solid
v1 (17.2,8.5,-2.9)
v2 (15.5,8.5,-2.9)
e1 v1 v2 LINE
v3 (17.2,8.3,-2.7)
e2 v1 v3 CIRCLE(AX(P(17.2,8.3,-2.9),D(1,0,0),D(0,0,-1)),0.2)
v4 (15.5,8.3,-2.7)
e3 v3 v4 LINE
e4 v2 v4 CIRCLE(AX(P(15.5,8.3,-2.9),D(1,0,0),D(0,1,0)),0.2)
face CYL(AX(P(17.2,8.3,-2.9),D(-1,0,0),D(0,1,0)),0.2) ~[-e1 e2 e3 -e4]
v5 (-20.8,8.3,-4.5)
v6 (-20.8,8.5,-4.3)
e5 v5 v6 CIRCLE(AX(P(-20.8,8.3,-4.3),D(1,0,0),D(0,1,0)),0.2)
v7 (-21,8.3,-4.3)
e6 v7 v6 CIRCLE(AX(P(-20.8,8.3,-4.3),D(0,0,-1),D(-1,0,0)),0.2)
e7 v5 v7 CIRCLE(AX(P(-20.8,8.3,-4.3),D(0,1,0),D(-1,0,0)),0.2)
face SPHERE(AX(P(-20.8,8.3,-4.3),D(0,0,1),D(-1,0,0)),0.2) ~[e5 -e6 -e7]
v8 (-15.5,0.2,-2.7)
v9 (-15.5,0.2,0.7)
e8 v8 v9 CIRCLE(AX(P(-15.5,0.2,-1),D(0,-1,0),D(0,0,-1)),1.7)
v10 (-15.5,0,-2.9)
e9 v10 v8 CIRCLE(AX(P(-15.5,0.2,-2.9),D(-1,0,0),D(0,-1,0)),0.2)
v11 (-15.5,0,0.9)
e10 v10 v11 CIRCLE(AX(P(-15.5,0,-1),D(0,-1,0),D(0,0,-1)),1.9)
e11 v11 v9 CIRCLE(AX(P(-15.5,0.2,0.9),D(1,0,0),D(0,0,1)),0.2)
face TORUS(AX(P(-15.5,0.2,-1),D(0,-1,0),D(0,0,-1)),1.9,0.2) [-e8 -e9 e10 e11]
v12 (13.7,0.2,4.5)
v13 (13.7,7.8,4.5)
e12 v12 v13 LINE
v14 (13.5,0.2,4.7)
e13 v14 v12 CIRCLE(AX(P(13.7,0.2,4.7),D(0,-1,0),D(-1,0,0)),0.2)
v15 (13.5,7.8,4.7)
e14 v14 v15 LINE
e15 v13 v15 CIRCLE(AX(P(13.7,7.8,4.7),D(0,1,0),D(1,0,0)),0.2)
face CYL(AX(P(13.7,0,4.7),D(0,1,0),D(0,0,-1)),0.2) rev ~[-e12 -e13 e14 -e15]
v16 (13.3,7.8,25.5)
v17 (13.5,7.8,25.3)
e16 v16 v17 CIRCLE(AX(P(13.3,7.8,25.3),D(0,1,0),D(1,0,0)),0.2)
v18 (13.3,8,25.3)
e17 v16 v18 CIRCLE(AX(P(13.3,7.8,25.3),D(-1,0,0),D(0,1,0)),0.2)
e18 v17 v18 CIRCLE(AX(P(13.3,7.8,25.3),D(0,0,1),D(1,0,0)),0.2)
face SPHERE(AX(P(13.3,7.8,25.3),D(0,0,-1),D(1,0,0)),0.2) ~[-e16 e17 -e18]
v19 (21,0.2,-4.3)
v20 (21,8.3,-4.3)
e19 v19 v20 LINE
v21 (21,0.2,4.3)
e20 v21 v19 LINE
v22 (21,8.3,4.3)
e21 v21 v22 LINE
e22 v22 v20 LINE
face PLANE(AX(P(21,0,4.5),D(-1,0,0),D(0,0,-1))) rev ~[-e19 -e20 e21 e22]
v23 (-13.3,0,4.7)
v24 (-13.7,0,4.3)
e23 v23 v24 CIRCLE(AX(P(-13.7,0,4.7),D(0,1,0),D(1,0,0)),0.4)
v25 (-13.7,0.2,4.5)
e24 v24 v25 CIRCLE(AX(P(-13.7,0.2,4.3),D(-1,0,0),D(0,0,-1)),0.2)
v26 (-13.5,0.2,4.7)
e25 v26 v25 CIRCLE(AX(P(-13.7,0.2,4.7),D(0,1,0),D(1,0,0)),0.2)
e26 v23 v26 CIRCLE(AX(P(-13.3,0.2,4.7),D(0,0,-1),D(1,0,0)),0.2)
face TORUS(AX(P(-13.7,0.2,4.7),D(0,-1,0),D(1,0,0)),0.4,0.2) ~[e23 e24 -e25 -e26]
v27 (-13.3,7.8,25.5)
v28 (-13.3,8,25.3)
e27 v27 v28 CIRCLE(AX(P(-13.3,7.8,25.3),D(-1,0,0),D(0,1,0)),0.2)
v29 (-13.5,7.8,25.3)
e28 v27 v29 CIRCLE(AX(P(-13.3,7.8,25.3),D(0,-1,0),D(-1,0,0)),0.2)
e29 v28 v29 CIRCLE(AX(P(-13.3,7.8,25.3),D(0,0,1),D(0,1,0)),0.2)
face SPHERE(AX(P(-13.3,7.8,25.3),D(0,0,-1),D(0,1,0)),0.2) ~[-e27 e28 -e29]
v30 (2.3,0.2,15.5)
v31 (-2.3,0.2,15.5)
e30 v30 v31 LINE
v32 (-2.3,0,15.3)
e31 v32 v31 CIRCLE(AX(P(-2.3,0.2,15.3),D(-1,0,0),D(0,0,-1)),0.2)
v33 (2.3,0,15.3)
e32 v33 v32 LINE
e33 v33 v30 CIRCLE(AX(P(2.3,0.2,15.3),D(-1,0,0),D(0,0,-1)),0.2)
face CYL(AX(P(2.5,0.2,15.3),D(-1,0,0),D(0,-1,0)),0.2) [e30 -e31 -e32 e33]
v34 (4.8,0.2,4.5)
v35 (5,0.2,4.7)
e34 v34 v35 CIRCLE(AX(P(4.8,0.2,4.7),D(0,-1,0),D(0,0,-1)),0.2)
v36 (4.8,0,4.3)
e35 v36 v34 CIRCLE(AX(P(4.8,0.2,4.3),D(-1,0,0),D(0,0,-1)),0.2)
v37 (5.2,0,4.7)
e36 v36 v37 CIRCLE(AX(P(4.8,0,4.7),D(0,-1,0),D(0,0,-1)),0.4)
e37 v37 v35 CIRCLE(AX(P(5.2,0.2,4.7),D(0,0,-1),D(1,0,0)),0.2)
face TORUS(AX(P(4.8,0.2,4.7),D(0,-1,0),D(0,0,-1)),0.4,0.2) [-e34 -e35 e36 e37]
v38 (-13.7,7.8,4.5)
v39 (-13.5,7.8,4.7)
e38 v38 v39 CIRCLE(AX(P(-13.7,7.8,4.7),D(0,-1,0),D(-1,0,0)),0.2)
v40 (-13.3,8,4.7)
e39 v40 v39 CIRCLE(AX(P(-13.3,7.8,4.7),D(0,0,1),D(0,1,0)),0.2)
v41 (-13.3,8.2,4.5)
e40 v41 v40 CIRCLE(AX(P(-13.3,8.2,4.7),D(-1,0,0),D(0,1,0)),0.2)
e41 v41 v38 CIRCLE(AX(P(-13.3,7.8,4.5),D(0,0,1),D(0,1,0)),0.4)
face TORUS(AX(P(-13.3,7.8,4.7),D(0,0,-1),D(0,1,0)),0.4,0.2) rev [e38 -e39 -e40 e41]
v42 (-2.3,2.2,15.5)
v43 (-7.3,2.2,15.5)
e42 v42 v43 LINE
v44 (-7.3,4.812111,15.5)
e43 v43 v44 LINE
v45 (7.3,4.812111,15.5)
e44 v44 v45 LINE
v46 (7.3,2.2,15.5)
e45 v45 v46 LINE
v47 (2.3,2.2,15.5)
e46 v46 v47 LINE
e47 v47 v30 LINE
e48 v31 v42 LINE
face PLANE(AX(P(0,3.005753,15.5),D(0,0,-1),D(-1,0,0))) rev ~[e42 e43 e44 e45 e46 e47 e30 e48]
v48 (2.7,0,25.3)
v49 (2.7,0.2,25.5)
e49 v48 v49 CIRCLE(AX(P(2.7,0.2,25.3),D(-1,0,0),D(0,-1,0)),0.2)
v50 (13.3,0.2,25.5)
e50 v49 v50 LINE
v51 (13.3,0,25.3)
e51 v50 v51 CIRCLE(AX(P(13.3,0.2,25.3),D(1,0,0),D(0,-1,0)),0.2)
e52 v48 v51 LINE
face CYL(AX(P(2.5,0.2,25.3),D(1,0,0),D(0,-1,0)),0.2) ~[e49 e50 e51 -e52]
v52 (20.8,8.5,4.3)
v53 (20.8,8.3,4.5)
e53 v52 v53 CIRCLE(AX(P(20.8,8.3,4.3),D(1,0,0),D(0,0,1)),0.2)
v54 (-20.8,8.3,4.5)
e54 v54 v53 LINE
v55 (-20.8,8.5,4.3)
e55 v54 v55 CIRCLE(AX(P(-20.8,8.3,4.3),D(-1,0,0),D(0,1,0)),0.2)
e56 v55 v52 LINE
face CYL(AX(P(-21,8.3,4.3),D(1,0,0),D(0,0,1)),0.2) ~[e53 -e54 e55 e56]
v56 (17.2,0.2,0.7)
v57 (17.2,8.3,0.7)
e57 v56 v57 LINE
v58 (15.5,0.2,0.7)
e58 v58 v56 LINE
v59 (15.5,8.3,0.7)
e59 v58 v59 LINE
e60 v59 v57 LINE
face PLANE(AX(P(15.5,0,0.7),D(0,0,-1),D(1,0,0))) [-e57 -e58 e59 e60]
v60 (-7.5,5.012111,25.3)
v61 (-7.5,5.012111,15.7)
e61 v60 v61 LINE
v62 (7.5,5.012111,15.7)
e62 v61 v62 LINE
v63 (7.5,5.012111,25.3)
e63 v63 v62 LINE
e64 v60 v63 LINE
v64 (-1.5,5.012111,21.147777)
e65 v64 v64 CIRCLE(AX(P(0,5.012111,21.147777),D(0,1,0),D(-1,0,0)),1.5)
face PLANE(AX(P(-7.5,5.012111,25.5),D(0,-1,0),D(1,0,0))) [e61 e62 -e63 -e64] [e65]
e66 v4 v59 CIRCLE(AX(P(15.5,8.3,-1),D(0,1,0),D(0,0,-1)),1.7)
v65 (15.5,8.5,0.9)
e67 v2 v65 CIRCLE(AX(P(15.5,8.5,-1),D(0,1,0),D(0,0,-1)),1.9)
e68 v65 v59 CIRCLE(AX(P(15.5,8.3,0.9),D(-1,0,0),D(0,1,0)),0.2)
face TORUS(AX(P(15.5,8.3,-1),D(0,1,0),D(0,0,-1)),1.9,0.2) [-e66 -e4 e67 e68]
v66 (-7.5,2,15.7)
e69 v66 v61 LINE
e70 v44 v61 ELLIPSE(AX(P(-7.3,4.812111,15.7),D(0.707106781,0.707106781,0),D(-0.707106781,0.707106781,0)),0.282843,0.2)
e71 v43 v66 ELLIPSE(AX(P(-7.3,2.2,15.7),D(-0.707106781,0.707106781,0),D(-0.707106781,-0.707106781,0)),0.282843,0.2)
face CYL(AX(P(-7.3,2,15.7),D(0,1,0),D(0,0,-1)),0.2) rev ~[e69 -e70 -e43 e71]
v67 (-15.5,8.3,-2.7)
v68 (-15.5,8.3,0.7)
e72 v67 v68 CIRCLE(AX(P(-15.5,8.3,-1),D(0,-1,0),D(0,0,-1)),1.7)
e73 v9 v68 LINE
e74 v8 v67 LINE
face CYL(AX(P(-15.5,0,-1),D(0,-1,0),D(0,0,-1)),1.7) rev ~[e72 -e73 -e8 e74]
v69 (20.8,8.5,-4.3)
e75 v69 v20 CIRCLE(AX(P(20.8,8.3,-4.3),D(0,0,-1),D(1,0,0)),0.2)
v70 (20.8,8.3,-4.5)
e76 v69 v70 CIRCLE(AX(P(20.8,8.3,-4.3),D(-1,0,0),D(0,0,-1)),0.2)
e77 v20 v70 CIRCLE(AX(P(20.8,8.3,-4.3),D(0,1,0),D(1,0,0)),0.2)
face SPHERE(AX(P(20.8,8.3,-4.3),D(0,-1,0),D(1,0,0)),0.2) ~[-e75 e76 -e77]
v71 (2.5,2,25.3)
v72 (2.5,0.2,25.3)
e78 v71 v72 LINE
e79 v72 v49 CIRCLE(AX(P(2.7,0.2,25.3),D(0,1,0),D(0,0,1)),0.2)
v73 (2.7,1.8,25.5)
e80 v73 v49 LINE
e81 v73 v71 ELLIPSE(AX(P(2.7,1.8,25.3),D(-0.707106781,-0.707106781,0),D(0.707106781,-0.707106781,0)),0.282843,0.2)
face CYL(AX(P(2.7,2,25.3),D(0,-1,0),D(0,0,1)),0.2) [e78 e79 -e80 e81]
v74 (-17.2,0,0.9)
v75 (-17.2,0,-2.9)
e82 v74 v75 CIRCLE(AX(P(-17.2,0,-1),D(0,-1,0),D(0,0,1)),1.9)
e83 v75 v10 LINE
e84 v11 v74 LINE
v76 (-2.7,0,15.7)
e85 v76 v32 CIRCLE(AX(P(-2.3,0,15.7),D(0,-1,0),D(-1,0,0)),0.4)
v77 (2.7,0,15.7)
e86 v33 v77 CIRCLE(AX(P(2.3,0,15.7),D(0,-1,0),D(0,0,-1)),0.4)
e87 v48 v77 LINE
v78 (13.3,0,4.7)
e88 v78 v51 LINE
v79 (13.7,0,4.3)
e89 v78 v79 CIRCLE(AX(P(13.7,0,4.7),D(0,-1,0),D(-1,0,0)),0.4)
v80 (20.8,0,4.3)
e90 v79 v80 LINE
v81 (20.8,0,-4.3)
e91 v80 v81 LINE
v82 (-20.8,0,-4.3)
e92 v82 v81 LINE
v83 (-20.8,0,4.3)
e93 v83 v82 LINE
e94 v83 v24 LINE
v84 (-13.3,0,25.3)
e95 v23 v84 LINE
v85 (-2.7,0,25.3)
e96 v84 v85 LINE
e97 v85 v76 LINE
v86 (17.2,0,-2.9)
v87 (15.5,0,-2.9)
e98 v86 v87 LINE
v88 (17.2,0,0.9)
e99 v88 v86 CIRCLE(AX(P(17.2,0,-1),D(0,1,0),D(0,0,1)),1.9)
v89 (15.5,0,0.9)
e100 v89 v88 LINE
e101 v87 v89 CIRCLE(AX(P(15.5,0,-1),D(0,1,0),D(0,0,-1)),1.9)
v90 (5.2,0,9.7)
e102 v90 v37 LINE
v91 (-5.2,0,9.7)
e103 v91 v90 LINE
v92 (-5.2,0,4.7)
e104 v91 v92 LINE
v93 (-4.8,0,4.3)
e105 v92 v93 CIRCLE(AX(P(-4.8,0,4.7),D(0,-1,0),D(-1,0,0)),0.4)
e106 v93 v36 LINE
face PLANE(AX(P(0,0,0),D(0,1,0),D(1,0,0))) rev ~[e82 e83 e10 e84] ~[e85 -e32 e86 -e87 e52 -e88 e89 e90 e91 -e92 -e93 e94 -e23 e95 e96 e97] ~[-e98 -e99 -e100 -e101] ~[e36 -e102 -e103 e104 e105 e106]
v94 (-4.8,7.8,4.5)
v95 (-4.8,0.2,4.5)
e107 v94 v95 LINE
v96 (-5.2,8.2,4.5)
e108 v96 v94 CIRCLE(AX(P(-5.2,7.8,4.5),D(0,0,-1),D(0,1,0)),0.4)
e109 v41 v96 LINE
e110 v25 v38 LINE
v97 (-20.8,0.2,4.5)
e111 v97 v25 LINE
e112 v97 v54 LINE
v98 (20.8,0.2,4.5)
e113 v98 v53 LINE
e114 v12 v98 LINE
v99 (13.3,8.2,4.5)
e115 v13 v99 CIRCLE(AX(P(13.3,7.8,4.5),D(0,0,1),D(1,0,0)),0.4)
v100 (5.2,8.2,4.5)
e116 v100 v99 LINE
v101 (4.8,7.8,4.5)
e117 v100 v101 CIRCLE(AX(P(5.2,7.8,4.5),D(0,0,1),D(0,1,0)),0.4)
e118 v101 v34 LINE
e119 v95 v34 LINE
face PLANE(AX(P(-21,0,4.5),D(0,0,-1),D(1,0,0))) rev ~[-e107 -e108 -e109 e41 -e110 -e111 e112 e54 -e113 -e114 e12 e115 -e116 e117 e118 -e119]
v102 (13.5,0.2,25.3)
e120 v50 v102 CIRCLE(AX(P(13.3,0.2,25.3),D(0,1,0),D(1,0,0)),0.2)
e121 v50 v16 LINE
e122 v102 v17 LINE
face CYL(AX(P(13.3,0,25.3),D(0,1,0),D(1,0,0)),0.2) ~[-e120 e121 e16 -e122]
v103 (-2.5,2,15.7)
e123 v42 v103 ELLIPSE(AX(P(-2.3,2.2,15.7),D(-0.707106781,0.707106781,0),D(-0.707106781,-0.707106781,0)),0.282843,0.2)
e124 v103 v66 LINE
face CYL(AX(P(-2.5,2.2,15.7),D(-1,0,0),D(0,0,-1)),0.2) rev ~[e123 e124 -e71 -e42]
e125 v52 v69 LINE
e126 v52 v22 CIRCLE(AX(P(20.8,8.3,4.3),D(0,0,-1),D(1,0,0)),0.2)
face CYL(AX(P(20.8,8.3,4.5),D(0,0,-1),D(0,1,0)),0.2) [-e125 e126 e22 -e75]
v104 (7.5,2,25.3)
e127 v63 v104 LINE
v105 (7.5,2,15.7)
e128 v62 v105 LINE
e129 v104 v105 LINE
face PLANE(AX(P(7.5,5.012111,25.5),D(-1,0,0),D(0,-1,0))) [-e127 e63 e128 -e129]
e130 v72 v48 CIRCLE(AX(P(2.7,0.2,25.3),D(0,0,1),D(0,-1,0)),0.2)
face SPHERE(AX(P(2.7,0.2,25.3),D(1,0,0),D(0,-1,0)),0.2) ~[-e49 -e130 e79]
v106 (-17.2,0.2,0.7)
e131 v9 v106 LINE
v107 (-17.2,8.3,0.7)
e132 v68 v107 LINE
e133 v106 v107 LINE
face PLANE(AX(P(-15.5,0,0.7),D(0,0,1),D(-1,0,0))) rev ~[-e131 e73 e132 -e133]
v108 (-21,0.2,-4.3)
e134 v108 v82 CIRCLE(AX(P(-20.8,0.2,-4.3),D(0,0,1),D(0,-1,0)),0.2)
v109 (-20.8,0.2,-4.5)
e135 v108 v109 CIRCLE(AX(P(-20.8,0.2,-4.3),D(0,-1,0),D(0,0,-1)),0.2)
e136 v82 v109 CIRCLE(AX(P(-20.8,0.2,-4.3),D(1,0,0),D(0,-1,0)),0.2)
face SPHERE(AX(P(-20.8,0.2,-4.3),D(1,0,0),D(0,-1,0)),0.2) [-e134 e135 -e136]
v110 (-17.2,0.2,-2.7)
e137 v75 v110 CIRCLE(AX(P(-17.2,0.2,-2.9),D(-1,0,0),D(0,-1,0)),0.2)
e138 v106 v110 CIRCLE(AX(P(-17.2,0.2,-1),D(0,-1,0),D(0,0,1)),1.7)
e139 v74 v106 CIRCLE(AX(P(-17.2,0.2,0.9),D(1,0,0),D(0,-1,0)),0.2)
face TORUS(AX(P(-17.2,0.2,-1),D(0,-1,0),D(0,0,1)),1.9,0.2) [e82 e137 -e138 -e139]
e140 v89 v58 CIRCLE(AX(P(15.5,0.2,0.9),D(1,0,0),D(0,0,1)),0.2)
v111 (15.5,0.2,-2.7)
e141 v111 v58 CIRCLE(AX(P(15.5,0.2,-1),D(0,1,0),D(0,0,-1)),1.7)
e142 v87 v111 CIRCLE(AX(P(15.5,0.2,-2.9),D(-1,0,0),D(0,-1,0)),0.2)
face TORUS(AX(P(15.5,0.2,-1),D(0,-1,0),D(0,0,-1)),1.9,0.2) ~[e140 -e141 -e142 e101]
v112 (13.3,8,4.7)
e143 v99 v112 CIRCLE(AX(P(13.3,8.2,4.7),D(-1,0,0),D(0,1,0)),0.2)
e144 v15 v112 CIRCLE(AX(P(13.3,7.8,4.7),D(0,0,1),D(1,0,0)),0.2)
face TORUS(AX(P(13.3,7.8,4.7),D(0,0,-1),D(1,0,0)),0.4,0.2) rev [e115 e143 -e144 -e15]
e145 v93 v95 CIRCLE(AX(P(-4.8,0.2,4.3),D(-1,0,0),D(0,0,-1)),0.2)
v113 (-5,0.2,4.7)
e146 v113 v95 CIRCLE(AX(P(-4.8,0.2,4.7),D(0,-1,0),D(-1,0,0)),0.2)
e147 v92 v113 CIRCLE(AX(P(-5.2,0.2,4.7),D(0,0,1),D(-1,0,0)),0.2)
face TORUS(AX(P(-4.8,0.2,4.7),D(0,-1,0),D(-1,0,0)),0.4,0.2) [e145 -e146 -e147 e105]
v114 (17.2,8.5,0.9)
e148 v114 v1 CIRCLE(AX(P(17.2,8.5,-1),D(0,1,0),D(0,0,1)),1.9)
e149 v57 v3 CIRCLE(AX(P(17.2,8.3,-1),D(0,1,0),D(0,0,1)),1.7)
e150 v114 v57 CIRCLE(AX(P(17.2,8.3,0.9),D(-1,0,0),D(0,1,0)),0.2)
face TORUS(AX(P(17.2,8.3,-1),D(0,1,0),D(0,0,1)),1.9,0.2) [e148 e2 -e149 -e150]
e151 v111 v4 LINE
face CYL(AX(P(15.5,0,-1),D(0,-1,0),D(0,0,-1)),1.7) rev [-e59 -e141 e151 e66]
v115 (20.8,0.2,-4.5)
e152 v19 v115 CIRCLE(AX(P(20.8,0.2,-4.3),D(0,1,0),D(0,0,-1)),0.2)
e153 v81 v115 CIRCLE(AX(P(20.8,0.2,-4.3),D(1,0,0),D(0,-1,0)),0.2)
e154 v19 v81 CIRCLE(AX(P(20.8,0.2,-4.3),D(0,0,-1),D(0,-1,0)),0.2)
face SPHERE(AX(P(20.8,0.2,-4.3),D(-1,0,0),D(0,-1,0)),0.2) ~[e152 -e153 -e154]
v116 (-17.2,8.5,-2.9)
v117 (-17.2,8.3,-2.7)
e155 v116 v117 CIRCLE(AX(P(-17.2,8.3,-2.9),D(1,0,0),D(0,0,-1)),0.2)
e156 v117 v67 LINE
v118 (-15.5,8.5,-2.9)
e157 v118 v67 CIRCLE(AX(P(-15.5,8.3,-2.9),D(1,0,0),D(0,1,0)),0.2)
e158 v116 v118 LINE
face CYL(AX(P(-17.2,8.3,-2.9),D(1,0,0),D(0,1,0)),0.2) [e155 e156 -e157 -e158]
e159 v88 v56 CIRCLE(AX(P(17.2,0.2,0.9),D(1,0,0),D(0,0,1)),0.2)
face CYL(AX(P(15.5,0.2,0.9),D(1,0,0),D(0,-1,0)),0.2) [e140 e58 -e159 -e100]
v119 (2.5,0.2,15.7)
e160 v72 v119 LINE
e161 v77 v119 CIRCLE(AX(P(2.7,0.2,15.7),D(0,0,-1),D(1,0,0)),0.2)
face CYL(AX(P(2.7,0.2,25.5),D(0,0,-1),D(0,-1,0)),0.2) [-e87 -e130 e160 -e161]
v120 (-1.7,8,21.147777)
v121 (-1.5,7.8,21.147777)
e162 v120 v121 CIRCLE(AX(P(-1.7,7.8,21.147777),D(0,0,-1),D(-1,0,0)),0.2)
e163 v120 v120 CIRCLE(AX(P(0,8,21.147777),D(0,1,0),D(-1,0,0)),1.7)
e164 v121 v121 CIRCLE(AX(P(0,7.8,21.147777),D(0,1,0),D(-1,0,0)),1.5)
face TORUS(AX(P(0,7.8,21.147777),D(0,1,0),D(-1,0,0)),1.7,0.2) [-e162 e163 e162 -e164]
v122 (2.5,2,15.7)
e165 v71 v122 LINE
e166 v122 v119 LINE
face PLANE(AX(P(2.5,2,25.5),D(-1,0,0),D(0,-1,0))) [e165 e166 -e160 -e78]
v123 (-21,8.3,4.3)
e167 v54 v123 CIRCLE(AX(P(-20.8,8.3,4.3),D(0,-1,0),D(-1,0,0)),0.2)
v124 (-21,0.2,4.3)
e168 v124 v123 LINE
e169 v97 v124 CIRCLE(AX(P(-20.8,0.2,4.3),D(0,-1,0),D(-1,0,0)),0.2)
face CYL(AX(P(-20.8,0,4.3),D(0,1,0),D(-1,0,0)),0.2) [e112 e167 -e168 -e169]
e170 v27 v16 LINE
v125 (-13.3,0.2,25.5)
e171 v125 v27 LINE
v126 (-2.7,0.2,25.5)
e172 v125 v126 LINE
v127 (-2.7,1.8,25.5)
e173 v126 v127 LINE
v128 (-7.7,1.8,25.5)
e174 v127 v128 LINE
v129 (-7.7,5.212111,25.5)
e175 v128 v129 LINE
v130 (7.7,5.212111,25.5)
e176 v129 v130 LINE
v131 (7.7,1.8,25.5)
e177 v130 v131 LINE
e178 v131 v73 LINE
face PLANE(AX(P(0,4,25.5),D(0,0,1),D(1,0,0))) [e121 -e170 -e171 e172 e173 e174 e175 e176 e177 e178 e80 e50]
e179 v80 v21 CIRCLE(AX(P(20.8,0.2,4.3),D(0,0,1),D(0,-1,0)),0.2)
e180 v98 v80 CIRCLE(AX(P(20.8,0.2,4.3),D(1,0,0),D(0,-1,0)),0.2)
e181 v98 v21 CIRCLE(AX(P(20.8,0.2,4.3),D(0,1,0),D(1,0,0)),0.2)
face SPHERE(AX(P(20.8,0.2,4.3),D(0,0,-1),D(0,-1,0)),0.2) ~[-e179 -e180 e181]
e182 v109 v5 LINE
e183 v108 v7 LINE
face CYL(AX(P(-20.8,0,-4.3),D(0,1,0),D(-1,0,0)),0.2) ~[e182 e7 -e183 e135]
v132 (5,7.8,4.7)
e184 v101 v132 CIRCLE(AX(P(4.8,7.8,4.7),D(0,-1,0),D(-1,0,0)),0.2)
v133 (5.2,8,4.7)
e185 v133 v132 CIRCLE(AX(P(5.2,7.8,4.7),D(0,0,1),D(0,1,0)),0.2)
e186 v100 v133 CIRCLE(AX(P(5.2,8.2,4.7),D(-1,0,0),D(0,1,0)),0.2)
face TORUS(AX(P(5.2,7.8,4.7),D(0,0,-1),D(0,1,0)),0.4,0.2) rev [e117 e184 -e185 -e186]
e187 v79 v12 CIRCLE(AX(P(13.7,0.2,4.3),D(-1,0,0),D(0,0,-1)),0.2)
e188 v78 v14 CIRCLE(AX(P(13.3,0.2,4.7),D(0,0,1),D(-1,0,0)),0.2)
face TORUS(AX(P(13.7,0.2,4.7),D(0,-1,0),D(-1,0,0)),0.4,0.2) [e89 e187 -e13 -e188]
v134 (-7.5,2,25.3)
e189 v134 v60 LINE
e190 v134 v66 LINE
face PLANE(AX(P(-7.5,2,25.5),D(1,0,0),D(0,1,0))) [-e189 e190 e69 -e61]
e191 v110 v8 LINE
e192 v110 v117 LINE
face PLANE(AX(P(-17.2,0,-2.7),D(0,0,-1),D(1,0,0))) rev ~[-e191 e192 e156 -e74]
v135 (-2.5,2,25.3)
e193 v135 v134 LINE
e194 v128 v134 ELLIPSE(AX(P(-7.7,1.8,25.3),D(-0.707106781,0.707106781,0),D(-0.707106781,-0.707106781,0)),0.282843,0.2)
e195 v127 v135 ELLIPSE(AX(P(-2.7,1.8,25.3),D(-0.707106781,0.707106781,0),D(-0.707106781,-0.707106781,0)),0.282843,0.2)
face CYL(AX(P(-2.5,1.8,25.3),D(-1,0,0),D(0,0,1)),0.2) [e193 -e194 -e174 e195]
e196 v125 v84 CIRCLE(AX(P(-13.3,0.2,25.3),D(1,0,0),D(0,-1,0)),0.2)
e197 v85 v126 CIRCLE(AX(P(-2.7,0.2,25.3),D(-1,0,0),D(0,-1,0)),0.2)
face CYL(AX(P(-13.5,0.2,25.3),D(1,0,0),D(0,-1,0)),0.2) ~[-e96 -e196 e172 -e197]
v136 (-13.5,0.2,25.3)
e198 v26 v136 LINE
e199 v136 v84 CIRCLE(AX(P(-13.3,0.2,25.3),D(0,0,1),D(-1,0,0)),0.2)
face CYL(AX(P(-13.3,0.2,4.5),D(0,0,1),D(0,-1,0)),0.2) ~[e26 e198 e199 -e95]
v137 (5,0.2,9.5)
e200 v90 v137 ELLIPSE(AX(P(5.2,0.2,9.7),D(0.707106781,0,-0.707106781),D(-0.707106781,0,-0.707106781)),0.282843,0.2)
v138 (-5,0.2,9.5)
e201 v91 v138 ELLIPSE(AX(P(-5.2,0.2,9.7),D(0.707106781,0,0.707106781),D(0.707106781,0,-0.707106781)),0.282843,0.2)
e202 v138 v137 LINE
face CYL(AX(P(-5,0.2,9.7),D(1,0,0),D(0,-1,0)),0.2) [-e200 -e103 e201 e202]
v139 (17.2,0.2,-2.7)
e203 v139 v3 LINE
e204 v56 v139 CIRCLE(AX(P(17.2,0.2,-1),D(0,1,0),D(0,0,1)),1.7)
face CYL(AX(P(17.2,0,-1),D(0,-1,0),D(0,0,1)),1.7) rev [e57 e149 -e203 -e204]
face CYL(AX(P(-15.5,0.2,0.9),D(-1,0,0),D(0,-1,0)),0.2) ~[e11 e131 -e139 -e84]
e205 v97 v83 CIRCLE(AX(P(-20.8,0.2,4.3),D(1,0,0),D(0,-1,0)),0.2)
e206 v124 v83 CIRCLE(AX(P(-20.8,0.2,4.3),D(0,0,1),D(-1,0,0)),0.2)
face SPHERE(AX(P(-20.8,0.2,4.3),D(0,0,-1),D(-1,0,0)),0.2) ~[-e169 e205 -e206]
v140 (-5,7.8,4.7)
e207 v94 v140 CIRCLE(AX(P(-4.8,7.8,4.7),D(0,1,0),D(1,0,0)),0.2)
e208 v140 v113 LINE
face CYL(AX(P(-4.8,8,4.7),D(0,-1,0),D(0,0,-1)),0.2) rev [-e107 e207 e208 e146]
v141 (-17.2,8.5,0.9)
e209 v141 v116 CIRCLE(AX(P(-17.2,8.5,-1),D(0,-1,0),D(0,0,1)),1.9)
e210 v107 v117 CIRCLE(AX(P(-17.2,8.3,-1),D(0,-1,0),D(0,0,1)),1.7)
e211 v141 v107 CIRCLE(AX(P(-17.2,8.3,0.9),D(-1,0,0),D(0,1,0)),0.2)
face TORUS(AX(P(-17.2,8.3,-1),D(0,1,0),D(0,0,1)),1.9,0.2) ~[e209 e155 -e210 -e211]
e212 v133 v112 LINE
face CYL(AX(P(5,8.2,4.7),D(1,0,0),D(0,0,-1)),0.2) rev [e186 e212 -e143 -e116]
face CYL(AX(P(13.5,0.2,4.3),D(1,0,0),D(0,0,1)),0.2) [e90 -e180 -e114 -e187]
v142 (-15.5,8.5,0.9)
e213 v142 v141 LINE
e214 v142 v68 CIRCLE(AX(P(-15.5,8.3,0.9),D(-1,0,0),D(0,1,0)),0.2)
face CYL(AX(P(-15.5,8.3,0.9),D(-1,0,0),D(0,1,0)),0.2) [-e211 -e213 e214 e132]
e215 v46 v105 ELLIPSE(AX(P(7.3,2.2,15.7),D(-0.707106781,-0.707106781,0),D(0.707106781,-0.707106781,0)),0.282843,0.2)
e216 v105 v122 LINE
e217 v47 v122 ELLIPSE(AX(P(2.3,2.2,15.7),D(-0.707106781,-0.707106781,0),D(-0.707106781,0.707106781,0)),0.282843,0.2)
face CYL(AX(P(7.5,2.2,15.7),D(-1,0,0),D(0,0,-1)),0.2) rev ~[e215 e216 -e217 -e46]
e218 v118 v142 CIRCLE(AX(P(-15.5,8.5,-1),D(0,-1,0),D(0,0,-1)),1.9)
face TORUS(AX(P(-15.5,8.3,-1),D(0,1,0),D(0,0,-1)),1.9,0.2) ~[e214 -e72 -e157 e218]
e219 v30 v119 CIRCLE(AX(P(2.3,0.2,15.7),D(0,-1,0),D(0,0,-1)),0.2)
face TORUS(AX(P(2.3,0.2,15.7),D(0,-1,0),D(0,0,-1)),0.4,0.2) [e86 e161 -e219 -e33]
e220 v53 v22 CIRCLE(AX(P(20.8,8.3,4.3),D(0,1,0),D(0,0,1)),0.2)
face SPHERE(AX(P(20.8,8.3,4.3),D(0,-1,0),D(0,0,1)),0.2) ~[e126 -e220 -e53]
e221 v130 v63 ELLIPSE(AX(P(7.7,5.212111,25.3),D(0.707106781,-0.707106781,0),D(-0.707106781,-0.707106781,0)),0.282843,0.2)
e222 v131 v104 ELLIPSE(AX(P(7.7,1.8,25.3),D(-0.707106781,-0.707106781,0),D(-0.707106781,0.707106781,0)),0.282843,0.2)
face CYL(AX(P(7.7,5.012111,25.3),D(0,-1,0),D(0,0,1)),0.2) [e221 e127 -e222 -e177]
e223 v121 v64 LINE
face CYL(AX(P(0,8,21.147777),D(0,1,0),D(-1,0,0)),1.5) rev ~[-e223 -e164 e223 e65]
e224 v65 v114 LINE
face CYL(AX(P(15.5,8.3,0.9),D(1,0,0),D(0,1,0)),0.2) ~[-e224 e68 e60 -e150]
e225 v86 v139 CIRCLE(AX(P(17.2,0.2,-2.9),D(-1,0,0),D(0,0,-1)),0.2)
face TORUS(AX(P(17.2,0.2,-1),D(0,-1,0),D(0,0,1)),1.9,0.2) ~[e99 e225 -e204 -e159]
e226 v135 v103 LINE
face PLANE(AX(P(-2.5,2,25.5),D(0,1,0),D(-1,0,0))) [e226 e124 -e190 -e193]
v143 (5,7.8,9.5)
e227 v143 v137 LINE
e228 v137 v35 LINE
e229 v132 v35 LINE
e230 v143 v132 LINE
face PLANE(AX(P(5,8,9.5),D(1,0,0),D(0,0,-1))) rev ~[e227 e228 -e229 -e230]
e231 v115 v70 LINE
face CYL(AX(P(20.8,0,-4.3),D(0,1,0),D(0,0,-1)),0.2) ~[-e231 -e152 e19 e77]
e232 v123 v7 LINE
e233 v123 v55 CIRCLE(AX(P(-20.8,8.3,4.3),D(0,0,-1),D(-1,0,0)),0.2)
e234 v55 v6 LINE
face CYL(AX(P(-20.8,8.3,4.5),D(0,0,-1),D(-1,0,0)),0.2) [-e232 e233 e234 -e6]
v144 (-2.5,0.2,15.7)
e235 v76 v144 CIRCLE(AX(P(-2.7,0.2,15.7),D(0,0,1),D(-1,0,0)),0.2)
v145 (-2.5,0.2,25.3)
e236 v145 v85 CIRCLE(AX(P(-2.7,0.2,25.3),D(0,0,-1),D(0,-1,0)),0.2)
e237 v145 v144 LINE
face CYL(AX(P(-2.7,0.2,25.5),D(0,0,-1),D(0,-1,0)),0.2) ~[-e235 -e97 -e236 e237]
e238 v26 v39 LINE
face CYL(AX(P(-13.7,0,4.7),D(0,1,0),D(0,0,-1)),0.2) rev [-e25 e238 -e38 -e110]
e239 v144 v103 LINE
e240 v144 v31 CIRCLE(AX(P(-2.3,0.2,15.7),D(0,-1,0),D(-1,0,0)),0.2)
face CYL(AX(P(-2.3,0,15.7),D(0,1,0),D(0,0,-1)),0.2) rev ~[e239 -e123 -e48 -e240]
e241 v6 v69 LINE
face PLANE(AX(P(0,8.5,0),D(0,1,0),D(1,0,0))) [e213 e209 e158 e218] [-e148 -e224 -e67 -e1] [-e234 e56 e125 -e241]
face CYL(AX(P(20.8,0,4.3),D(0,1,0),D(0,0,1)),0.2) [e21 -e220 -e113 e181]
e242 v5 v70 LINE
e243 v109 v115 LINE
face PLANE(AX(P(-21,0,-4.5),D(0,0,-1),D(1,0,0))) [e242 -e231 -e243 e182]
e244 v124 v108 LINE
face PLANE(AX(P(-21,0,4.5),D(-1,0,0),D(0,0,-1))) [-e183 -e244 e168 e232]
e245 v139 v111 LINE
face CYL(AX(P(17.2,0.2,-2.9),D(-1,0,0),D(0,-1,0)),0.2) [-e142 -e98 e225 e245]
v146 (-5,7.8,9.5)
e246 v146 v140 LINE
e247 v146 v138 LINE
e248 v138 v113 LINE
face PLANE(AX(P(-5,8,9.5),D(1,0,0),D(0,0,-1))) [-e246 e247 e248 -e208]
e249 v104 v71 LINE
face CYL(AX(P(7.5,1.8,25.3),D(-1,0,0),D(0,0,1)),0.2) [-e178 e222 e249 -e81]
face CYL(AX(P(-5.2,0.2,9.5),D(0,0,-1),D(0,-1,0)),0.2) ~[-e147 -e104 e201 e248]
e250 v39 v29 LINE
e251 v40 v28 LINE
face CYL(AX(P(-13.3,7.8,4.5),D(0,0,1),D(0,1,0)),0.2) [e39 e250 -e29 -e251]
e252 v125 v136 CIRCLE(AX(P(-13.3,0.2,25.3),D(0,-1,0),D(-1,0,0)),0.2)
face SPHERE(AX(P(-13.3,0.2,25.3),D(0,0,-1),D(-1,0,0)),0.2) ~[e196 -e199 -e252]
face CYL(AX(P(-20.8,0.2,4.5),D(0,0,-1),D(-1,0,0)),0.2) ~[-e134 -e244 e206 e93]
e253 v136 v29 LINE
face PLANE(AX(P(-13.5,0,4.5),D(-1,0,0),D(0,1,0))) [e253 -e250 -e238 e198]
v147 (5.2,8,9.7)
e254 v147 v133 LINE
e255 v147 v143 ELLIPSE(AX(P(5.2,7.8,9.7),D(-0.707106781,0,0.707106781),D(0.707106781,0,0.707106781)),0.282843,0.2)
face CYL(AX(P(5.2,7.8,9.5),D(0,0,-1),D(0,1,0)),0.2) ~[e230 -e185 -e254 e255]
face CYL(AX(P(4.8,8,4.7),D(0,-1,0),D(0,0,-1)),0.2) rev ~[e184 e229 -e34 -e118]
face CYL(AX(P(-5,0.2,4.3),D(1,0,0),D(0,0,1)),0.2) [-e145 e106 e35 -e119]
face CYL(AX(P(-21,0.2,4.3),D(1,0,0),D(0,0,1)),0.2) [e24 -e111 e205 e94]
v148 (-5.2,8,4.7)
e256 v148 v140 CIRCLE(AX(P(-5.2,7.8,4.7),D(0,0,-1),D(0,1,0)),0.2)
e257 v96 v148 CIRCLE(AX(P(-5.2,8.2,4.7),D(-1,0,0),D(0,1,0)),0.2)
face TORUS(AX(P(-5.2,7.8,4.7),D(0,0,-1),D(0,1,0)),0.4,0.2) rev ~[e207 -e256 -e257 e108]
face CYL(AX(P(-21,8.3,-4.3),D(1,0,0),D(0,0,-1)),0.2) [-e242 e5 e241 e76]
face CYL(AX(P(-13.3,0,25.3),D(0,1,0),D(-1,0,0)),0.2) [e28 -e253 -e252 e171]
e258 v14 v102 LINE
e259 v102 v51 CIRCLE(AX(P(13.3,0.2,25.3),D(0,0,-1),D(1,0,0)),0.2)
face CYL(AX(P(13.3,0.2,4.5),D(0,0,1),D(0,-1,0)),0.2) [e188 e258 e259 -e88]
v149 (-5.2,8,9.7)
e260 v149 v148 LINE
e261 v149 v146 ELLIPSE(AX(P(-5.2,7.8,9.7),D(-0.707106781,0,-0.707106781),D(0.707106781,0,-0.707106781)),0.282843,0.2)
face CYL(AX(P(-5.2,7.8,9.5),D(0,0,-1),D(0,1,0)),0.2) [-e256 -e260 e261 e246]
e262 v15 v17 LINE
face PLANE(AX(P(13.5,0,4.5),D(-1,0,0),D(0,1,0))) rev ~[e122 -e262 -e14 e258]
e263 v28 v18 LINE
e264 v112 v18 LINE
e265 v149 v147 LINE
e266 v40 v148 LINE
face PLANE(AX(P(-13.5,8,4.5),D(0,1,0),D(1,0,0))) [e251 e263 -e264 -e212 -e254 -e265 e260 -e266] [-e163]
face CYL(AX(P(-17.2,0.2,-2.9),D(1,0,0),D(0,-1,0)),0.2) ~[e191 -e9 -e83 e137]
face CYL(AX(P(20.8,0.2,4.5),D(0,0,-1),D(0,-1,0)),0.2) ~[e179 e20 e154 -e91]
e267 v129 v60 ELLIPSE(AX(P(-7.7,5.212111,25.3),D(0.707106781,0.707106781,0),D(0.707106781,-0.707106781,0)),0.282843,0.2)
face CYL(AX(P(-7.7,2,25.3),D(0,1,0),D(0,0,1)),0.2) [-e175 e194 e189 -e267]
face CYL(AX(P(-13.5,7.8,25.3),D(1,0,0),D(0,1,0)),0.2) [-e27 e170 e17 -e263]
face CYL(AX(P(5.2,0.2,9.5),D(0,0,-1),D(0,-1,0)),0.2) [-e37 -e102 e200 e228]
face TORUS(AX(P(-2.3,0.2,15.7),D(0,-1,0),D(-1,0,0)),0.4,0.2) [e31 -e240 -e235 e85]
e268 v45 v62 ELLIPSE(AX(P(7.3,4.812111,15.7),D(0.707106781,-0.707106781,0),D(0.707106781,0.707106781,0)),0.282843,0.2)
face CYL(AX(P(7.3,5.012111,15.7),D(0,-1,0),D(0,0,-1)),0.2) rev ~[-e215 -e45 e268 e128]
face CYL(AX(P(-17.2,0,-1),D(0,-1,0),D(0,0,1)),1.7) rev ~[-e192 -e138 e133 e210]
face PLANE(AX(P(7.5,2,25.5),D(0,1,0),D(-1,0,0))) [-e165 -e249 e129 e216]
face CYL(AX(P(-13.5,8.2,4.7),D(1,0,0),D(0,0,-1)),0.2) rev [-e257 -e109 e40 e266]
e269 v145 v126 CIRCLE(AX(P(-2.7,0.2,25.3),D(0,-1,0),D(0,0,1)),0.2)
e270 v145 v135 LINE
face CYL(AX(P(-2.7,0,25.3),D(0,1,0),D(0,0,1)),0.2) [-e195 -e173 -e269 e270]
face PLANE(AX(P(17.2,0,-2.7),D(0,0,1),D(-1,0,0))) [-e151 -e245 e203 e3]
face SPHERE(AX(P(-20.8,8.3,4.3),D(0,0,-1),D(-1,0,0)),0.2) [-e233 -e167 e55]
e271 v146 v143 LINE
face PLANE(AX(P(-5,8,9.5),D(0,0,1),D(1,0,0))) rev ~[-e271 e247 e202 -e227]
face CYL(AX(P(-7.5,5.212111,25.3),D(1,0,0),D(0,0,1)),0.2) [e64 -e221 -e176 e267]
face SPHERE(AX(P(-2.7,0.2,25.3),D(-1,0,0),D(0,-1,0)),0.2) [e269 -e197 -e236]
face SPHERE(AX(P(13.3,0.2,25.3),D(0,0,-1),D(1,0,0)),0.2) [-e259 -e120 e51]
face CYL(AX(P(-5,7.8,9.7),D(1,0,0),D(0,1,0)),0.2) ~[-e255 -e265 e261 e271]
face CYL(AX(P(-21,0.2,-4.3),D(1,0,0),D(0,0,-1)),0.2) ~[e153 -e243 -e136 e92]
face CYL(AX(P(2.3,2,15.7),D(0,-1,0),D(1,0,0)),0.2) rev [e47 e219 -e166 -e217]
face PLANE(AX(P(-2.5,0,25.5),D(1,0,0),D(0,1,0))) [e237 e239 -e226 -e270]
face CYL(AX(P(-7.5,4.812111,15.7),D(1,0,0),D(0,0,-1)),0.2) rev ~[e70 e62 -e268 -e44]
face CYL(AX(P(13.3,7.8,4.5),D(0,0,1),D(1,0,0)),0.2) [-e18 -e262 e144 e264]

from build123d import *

# Parameters (mm, degrees)
SKETCH2_W           = 42
SKETCH2_H           = 9
BOSS_EXTRUDE1_DEPTH = 8.5
SKETCH3_W           = 27
SKETCH3_H           = 8
BOSS_EXTRUDE2_DEPTH = 21
SKETCH4_W           = 10
SKETCH4_H           = 5
CUT_EXTRUDE1_DEPTH  = 21
CUT_EXTRUDE3_DEPTH  = 10
SKETCH9_R           = 1.5
CUT_EXTRUDE4_DEPTH  = 10
FILLET1_R           = 0.2


with BuildPart() as part:
    # Sketch2 → Boss-Extrude1 (new body)
    with BuildSketch(Plane(origin=(0, 0, 0), x_dir=(1, 0, 0), z_dir=(0, 1, 0))):
        Rectangle(SKETCH2_W, SKETCH2_H)
        with BuildLine():
            Line((-17.2, 2.7), (-15.5, 2.7))
            ThreePointArc((-15.5, 2.7), (-13.8, 1), (-15.5, -0.7))
            Line((-15.5, -0.7), (-17.2, -0.7))
            ThreePointArc((-17.2, -0.7), (-18.9, 1), (-17.2, 2.7))
        make_face(mode=Mode.SUBTRACT)
        with BuildLine():
            Line((17.2, 2.7), (15.5, 2.7))
            ThreePointArc((15.5, 2.7), (13.8, 1), (15.5, -0.7))
            Line((15.5, -0.7), (17.2, -0.7))
            ThreePointArc((17.2, -0.7), (18.9, 1), (17.2, 2.7))
        make_face(mode=Mode.SUBTRACT)
    extrude(amount=BOSS_EXTRUDE1_DEPTH)

    # Sketch3 → Boss-Extrude2 (add)
    with BuildSketch(Plane.XY.offset(4.5)):
        with Locations((0, 4)):
            Rectangle(SKETCH3_W, SKETCH3_H)
    extrude(amount=BOSS_EXTRUDE2_DEPTH)

    # Sketch4 → Cut-Extrude1 (cut)
    with BuildSketch(Plane(origin=(0, 8, 0), x_dir=(1, 0, 0), z_dir=(0, 1, 0))):
        with Locations((0, -7)):
            Rectangle(SKETCH4_W, SKETCH4_H)
    extrude(amount=-CUT_EXTRUDE1_DEPTH, mode=Mode.SUBTRACT)

    # Sketch8 → Cut-Extrude3 (cut)
    with BuildSketch(Plane.XY.offset(25.5)):
        Polygon((2.5, 0), (-2.5, 0), (-2.5, 2), (-7.5, 2), (-7.5, 5.012110836), (7.5, 5.012110836), (7.5, 2), (2.5, 2), align=None)
    extrude(amount=-CUT_EXTRUDE3_DEPTH, mode=Mode.SUBTRACT)

    # Sketch9 → Cut-Extrude4 (cut)
    with BuildSketch(Plane(origin=(0, 8, 0), x_dir=(1, 0, 0), z_dir=(0, 1, 0))):
        with Locations(Location((0, -21.147777112, 0), (0, 0, 180))):
            Circle(SKETCH9_R)
    extrude(amount=-CUT_EXTRUDE4_DEPTH, mode=Mode.SUBTRACT)

    # Fillet1
    fillet1_edges = [part.edges().sort_by_distance(p)[0] for p in [
        (-16.35, 8.5, 0.7),
        (18.9, 0, -1),
        (16.35, 0, -2.7),
        (13.8, 0, -1),
        (16.35, 0, 0.7),
        (-18.9, 8.5, -1),
        (0, 0, -4.5),
        (21, 0, 0),
        (17.25, 0, 4.5),
        (-21, 0, 0),
        (-16.35, 0, -2.7),
        (-18.9, 0, -1),
        (-16.35, 0, 0.7),
        (-13.8, 0, -1),
        (-16.35, 8.5, -2.7),
        (-21, 8.5, 0),
        (-21, 4.25, -4.5),
        (21, 4.25, -4.5),
        (21, 4.25, 4.5),
        (-21, 4.25, 4.5),
        (0, 8.5, 4.5),
        (21, 8.5, 0),
        (0, 8.5, -4.5),
        (-17.25, 0, 4.5),
        (16.35, 8.5, 0.7),
        (13.5, 4, 4.5),
        (13.5, 0, 15),
        (9.25, 8, 4.5),
        (13.5, 8, 15),
        (-13.5, 4, 4.5),
        (-13.5, 8, 15),
        (-13.5, 0, 15),
        (13.5, 4, 25.5),
        (0, 8, 25.5),
        (-13.5, 4, 25.5),
        (-8, 0, 25.5),
        (13.8, 8.5, -1),
        (16.35, 8.5, -2.7),
        (-9.25, 8, 4.5),
        (18.9, 8.5, -1),
        (-5, 0, 7),
        (0, 0, 4.5),
        (-5, 4, 4.5),
        (5, 0, 7),
        (5, 4, 4.5),
        (0, 0, 9.5),
        (-5, 8, 7),
        (0, 8, 9.5),
        (5, 8, 7),
        (8, 0, 25.5),
        (-13.8, 8.5, -1),
        (-5, 2, 15.5),
        (-7.5, 3.506055418, 15.5),
        (0, 5.012110836, 15.5),
        (7.5, 3.506055418, 15.5),
        (5, 2, 15.5),
        (2.5, 1, 15.5),
        (0, 0, 15.5),
        (2.5, 0, 20.5),
        (-2.5, 1, 15.5),
        (-2.5, 0, 20.5),
        (-5, 2, 25.5),
        (-2.5, 1, 25.5),
        (2.5, 1, 25.5),
        (5, 2, 25.5),
        (7.5, 3.506055418, 25.5),
        (0, 5.012110836, 25.5),
        (-7.5, 3.506055418, 25.5),
        (1.5, 8, 21.147777112),
    ]]
    fillet(fillet1_edges, radius=FILLET1_R)


solid = part.part
